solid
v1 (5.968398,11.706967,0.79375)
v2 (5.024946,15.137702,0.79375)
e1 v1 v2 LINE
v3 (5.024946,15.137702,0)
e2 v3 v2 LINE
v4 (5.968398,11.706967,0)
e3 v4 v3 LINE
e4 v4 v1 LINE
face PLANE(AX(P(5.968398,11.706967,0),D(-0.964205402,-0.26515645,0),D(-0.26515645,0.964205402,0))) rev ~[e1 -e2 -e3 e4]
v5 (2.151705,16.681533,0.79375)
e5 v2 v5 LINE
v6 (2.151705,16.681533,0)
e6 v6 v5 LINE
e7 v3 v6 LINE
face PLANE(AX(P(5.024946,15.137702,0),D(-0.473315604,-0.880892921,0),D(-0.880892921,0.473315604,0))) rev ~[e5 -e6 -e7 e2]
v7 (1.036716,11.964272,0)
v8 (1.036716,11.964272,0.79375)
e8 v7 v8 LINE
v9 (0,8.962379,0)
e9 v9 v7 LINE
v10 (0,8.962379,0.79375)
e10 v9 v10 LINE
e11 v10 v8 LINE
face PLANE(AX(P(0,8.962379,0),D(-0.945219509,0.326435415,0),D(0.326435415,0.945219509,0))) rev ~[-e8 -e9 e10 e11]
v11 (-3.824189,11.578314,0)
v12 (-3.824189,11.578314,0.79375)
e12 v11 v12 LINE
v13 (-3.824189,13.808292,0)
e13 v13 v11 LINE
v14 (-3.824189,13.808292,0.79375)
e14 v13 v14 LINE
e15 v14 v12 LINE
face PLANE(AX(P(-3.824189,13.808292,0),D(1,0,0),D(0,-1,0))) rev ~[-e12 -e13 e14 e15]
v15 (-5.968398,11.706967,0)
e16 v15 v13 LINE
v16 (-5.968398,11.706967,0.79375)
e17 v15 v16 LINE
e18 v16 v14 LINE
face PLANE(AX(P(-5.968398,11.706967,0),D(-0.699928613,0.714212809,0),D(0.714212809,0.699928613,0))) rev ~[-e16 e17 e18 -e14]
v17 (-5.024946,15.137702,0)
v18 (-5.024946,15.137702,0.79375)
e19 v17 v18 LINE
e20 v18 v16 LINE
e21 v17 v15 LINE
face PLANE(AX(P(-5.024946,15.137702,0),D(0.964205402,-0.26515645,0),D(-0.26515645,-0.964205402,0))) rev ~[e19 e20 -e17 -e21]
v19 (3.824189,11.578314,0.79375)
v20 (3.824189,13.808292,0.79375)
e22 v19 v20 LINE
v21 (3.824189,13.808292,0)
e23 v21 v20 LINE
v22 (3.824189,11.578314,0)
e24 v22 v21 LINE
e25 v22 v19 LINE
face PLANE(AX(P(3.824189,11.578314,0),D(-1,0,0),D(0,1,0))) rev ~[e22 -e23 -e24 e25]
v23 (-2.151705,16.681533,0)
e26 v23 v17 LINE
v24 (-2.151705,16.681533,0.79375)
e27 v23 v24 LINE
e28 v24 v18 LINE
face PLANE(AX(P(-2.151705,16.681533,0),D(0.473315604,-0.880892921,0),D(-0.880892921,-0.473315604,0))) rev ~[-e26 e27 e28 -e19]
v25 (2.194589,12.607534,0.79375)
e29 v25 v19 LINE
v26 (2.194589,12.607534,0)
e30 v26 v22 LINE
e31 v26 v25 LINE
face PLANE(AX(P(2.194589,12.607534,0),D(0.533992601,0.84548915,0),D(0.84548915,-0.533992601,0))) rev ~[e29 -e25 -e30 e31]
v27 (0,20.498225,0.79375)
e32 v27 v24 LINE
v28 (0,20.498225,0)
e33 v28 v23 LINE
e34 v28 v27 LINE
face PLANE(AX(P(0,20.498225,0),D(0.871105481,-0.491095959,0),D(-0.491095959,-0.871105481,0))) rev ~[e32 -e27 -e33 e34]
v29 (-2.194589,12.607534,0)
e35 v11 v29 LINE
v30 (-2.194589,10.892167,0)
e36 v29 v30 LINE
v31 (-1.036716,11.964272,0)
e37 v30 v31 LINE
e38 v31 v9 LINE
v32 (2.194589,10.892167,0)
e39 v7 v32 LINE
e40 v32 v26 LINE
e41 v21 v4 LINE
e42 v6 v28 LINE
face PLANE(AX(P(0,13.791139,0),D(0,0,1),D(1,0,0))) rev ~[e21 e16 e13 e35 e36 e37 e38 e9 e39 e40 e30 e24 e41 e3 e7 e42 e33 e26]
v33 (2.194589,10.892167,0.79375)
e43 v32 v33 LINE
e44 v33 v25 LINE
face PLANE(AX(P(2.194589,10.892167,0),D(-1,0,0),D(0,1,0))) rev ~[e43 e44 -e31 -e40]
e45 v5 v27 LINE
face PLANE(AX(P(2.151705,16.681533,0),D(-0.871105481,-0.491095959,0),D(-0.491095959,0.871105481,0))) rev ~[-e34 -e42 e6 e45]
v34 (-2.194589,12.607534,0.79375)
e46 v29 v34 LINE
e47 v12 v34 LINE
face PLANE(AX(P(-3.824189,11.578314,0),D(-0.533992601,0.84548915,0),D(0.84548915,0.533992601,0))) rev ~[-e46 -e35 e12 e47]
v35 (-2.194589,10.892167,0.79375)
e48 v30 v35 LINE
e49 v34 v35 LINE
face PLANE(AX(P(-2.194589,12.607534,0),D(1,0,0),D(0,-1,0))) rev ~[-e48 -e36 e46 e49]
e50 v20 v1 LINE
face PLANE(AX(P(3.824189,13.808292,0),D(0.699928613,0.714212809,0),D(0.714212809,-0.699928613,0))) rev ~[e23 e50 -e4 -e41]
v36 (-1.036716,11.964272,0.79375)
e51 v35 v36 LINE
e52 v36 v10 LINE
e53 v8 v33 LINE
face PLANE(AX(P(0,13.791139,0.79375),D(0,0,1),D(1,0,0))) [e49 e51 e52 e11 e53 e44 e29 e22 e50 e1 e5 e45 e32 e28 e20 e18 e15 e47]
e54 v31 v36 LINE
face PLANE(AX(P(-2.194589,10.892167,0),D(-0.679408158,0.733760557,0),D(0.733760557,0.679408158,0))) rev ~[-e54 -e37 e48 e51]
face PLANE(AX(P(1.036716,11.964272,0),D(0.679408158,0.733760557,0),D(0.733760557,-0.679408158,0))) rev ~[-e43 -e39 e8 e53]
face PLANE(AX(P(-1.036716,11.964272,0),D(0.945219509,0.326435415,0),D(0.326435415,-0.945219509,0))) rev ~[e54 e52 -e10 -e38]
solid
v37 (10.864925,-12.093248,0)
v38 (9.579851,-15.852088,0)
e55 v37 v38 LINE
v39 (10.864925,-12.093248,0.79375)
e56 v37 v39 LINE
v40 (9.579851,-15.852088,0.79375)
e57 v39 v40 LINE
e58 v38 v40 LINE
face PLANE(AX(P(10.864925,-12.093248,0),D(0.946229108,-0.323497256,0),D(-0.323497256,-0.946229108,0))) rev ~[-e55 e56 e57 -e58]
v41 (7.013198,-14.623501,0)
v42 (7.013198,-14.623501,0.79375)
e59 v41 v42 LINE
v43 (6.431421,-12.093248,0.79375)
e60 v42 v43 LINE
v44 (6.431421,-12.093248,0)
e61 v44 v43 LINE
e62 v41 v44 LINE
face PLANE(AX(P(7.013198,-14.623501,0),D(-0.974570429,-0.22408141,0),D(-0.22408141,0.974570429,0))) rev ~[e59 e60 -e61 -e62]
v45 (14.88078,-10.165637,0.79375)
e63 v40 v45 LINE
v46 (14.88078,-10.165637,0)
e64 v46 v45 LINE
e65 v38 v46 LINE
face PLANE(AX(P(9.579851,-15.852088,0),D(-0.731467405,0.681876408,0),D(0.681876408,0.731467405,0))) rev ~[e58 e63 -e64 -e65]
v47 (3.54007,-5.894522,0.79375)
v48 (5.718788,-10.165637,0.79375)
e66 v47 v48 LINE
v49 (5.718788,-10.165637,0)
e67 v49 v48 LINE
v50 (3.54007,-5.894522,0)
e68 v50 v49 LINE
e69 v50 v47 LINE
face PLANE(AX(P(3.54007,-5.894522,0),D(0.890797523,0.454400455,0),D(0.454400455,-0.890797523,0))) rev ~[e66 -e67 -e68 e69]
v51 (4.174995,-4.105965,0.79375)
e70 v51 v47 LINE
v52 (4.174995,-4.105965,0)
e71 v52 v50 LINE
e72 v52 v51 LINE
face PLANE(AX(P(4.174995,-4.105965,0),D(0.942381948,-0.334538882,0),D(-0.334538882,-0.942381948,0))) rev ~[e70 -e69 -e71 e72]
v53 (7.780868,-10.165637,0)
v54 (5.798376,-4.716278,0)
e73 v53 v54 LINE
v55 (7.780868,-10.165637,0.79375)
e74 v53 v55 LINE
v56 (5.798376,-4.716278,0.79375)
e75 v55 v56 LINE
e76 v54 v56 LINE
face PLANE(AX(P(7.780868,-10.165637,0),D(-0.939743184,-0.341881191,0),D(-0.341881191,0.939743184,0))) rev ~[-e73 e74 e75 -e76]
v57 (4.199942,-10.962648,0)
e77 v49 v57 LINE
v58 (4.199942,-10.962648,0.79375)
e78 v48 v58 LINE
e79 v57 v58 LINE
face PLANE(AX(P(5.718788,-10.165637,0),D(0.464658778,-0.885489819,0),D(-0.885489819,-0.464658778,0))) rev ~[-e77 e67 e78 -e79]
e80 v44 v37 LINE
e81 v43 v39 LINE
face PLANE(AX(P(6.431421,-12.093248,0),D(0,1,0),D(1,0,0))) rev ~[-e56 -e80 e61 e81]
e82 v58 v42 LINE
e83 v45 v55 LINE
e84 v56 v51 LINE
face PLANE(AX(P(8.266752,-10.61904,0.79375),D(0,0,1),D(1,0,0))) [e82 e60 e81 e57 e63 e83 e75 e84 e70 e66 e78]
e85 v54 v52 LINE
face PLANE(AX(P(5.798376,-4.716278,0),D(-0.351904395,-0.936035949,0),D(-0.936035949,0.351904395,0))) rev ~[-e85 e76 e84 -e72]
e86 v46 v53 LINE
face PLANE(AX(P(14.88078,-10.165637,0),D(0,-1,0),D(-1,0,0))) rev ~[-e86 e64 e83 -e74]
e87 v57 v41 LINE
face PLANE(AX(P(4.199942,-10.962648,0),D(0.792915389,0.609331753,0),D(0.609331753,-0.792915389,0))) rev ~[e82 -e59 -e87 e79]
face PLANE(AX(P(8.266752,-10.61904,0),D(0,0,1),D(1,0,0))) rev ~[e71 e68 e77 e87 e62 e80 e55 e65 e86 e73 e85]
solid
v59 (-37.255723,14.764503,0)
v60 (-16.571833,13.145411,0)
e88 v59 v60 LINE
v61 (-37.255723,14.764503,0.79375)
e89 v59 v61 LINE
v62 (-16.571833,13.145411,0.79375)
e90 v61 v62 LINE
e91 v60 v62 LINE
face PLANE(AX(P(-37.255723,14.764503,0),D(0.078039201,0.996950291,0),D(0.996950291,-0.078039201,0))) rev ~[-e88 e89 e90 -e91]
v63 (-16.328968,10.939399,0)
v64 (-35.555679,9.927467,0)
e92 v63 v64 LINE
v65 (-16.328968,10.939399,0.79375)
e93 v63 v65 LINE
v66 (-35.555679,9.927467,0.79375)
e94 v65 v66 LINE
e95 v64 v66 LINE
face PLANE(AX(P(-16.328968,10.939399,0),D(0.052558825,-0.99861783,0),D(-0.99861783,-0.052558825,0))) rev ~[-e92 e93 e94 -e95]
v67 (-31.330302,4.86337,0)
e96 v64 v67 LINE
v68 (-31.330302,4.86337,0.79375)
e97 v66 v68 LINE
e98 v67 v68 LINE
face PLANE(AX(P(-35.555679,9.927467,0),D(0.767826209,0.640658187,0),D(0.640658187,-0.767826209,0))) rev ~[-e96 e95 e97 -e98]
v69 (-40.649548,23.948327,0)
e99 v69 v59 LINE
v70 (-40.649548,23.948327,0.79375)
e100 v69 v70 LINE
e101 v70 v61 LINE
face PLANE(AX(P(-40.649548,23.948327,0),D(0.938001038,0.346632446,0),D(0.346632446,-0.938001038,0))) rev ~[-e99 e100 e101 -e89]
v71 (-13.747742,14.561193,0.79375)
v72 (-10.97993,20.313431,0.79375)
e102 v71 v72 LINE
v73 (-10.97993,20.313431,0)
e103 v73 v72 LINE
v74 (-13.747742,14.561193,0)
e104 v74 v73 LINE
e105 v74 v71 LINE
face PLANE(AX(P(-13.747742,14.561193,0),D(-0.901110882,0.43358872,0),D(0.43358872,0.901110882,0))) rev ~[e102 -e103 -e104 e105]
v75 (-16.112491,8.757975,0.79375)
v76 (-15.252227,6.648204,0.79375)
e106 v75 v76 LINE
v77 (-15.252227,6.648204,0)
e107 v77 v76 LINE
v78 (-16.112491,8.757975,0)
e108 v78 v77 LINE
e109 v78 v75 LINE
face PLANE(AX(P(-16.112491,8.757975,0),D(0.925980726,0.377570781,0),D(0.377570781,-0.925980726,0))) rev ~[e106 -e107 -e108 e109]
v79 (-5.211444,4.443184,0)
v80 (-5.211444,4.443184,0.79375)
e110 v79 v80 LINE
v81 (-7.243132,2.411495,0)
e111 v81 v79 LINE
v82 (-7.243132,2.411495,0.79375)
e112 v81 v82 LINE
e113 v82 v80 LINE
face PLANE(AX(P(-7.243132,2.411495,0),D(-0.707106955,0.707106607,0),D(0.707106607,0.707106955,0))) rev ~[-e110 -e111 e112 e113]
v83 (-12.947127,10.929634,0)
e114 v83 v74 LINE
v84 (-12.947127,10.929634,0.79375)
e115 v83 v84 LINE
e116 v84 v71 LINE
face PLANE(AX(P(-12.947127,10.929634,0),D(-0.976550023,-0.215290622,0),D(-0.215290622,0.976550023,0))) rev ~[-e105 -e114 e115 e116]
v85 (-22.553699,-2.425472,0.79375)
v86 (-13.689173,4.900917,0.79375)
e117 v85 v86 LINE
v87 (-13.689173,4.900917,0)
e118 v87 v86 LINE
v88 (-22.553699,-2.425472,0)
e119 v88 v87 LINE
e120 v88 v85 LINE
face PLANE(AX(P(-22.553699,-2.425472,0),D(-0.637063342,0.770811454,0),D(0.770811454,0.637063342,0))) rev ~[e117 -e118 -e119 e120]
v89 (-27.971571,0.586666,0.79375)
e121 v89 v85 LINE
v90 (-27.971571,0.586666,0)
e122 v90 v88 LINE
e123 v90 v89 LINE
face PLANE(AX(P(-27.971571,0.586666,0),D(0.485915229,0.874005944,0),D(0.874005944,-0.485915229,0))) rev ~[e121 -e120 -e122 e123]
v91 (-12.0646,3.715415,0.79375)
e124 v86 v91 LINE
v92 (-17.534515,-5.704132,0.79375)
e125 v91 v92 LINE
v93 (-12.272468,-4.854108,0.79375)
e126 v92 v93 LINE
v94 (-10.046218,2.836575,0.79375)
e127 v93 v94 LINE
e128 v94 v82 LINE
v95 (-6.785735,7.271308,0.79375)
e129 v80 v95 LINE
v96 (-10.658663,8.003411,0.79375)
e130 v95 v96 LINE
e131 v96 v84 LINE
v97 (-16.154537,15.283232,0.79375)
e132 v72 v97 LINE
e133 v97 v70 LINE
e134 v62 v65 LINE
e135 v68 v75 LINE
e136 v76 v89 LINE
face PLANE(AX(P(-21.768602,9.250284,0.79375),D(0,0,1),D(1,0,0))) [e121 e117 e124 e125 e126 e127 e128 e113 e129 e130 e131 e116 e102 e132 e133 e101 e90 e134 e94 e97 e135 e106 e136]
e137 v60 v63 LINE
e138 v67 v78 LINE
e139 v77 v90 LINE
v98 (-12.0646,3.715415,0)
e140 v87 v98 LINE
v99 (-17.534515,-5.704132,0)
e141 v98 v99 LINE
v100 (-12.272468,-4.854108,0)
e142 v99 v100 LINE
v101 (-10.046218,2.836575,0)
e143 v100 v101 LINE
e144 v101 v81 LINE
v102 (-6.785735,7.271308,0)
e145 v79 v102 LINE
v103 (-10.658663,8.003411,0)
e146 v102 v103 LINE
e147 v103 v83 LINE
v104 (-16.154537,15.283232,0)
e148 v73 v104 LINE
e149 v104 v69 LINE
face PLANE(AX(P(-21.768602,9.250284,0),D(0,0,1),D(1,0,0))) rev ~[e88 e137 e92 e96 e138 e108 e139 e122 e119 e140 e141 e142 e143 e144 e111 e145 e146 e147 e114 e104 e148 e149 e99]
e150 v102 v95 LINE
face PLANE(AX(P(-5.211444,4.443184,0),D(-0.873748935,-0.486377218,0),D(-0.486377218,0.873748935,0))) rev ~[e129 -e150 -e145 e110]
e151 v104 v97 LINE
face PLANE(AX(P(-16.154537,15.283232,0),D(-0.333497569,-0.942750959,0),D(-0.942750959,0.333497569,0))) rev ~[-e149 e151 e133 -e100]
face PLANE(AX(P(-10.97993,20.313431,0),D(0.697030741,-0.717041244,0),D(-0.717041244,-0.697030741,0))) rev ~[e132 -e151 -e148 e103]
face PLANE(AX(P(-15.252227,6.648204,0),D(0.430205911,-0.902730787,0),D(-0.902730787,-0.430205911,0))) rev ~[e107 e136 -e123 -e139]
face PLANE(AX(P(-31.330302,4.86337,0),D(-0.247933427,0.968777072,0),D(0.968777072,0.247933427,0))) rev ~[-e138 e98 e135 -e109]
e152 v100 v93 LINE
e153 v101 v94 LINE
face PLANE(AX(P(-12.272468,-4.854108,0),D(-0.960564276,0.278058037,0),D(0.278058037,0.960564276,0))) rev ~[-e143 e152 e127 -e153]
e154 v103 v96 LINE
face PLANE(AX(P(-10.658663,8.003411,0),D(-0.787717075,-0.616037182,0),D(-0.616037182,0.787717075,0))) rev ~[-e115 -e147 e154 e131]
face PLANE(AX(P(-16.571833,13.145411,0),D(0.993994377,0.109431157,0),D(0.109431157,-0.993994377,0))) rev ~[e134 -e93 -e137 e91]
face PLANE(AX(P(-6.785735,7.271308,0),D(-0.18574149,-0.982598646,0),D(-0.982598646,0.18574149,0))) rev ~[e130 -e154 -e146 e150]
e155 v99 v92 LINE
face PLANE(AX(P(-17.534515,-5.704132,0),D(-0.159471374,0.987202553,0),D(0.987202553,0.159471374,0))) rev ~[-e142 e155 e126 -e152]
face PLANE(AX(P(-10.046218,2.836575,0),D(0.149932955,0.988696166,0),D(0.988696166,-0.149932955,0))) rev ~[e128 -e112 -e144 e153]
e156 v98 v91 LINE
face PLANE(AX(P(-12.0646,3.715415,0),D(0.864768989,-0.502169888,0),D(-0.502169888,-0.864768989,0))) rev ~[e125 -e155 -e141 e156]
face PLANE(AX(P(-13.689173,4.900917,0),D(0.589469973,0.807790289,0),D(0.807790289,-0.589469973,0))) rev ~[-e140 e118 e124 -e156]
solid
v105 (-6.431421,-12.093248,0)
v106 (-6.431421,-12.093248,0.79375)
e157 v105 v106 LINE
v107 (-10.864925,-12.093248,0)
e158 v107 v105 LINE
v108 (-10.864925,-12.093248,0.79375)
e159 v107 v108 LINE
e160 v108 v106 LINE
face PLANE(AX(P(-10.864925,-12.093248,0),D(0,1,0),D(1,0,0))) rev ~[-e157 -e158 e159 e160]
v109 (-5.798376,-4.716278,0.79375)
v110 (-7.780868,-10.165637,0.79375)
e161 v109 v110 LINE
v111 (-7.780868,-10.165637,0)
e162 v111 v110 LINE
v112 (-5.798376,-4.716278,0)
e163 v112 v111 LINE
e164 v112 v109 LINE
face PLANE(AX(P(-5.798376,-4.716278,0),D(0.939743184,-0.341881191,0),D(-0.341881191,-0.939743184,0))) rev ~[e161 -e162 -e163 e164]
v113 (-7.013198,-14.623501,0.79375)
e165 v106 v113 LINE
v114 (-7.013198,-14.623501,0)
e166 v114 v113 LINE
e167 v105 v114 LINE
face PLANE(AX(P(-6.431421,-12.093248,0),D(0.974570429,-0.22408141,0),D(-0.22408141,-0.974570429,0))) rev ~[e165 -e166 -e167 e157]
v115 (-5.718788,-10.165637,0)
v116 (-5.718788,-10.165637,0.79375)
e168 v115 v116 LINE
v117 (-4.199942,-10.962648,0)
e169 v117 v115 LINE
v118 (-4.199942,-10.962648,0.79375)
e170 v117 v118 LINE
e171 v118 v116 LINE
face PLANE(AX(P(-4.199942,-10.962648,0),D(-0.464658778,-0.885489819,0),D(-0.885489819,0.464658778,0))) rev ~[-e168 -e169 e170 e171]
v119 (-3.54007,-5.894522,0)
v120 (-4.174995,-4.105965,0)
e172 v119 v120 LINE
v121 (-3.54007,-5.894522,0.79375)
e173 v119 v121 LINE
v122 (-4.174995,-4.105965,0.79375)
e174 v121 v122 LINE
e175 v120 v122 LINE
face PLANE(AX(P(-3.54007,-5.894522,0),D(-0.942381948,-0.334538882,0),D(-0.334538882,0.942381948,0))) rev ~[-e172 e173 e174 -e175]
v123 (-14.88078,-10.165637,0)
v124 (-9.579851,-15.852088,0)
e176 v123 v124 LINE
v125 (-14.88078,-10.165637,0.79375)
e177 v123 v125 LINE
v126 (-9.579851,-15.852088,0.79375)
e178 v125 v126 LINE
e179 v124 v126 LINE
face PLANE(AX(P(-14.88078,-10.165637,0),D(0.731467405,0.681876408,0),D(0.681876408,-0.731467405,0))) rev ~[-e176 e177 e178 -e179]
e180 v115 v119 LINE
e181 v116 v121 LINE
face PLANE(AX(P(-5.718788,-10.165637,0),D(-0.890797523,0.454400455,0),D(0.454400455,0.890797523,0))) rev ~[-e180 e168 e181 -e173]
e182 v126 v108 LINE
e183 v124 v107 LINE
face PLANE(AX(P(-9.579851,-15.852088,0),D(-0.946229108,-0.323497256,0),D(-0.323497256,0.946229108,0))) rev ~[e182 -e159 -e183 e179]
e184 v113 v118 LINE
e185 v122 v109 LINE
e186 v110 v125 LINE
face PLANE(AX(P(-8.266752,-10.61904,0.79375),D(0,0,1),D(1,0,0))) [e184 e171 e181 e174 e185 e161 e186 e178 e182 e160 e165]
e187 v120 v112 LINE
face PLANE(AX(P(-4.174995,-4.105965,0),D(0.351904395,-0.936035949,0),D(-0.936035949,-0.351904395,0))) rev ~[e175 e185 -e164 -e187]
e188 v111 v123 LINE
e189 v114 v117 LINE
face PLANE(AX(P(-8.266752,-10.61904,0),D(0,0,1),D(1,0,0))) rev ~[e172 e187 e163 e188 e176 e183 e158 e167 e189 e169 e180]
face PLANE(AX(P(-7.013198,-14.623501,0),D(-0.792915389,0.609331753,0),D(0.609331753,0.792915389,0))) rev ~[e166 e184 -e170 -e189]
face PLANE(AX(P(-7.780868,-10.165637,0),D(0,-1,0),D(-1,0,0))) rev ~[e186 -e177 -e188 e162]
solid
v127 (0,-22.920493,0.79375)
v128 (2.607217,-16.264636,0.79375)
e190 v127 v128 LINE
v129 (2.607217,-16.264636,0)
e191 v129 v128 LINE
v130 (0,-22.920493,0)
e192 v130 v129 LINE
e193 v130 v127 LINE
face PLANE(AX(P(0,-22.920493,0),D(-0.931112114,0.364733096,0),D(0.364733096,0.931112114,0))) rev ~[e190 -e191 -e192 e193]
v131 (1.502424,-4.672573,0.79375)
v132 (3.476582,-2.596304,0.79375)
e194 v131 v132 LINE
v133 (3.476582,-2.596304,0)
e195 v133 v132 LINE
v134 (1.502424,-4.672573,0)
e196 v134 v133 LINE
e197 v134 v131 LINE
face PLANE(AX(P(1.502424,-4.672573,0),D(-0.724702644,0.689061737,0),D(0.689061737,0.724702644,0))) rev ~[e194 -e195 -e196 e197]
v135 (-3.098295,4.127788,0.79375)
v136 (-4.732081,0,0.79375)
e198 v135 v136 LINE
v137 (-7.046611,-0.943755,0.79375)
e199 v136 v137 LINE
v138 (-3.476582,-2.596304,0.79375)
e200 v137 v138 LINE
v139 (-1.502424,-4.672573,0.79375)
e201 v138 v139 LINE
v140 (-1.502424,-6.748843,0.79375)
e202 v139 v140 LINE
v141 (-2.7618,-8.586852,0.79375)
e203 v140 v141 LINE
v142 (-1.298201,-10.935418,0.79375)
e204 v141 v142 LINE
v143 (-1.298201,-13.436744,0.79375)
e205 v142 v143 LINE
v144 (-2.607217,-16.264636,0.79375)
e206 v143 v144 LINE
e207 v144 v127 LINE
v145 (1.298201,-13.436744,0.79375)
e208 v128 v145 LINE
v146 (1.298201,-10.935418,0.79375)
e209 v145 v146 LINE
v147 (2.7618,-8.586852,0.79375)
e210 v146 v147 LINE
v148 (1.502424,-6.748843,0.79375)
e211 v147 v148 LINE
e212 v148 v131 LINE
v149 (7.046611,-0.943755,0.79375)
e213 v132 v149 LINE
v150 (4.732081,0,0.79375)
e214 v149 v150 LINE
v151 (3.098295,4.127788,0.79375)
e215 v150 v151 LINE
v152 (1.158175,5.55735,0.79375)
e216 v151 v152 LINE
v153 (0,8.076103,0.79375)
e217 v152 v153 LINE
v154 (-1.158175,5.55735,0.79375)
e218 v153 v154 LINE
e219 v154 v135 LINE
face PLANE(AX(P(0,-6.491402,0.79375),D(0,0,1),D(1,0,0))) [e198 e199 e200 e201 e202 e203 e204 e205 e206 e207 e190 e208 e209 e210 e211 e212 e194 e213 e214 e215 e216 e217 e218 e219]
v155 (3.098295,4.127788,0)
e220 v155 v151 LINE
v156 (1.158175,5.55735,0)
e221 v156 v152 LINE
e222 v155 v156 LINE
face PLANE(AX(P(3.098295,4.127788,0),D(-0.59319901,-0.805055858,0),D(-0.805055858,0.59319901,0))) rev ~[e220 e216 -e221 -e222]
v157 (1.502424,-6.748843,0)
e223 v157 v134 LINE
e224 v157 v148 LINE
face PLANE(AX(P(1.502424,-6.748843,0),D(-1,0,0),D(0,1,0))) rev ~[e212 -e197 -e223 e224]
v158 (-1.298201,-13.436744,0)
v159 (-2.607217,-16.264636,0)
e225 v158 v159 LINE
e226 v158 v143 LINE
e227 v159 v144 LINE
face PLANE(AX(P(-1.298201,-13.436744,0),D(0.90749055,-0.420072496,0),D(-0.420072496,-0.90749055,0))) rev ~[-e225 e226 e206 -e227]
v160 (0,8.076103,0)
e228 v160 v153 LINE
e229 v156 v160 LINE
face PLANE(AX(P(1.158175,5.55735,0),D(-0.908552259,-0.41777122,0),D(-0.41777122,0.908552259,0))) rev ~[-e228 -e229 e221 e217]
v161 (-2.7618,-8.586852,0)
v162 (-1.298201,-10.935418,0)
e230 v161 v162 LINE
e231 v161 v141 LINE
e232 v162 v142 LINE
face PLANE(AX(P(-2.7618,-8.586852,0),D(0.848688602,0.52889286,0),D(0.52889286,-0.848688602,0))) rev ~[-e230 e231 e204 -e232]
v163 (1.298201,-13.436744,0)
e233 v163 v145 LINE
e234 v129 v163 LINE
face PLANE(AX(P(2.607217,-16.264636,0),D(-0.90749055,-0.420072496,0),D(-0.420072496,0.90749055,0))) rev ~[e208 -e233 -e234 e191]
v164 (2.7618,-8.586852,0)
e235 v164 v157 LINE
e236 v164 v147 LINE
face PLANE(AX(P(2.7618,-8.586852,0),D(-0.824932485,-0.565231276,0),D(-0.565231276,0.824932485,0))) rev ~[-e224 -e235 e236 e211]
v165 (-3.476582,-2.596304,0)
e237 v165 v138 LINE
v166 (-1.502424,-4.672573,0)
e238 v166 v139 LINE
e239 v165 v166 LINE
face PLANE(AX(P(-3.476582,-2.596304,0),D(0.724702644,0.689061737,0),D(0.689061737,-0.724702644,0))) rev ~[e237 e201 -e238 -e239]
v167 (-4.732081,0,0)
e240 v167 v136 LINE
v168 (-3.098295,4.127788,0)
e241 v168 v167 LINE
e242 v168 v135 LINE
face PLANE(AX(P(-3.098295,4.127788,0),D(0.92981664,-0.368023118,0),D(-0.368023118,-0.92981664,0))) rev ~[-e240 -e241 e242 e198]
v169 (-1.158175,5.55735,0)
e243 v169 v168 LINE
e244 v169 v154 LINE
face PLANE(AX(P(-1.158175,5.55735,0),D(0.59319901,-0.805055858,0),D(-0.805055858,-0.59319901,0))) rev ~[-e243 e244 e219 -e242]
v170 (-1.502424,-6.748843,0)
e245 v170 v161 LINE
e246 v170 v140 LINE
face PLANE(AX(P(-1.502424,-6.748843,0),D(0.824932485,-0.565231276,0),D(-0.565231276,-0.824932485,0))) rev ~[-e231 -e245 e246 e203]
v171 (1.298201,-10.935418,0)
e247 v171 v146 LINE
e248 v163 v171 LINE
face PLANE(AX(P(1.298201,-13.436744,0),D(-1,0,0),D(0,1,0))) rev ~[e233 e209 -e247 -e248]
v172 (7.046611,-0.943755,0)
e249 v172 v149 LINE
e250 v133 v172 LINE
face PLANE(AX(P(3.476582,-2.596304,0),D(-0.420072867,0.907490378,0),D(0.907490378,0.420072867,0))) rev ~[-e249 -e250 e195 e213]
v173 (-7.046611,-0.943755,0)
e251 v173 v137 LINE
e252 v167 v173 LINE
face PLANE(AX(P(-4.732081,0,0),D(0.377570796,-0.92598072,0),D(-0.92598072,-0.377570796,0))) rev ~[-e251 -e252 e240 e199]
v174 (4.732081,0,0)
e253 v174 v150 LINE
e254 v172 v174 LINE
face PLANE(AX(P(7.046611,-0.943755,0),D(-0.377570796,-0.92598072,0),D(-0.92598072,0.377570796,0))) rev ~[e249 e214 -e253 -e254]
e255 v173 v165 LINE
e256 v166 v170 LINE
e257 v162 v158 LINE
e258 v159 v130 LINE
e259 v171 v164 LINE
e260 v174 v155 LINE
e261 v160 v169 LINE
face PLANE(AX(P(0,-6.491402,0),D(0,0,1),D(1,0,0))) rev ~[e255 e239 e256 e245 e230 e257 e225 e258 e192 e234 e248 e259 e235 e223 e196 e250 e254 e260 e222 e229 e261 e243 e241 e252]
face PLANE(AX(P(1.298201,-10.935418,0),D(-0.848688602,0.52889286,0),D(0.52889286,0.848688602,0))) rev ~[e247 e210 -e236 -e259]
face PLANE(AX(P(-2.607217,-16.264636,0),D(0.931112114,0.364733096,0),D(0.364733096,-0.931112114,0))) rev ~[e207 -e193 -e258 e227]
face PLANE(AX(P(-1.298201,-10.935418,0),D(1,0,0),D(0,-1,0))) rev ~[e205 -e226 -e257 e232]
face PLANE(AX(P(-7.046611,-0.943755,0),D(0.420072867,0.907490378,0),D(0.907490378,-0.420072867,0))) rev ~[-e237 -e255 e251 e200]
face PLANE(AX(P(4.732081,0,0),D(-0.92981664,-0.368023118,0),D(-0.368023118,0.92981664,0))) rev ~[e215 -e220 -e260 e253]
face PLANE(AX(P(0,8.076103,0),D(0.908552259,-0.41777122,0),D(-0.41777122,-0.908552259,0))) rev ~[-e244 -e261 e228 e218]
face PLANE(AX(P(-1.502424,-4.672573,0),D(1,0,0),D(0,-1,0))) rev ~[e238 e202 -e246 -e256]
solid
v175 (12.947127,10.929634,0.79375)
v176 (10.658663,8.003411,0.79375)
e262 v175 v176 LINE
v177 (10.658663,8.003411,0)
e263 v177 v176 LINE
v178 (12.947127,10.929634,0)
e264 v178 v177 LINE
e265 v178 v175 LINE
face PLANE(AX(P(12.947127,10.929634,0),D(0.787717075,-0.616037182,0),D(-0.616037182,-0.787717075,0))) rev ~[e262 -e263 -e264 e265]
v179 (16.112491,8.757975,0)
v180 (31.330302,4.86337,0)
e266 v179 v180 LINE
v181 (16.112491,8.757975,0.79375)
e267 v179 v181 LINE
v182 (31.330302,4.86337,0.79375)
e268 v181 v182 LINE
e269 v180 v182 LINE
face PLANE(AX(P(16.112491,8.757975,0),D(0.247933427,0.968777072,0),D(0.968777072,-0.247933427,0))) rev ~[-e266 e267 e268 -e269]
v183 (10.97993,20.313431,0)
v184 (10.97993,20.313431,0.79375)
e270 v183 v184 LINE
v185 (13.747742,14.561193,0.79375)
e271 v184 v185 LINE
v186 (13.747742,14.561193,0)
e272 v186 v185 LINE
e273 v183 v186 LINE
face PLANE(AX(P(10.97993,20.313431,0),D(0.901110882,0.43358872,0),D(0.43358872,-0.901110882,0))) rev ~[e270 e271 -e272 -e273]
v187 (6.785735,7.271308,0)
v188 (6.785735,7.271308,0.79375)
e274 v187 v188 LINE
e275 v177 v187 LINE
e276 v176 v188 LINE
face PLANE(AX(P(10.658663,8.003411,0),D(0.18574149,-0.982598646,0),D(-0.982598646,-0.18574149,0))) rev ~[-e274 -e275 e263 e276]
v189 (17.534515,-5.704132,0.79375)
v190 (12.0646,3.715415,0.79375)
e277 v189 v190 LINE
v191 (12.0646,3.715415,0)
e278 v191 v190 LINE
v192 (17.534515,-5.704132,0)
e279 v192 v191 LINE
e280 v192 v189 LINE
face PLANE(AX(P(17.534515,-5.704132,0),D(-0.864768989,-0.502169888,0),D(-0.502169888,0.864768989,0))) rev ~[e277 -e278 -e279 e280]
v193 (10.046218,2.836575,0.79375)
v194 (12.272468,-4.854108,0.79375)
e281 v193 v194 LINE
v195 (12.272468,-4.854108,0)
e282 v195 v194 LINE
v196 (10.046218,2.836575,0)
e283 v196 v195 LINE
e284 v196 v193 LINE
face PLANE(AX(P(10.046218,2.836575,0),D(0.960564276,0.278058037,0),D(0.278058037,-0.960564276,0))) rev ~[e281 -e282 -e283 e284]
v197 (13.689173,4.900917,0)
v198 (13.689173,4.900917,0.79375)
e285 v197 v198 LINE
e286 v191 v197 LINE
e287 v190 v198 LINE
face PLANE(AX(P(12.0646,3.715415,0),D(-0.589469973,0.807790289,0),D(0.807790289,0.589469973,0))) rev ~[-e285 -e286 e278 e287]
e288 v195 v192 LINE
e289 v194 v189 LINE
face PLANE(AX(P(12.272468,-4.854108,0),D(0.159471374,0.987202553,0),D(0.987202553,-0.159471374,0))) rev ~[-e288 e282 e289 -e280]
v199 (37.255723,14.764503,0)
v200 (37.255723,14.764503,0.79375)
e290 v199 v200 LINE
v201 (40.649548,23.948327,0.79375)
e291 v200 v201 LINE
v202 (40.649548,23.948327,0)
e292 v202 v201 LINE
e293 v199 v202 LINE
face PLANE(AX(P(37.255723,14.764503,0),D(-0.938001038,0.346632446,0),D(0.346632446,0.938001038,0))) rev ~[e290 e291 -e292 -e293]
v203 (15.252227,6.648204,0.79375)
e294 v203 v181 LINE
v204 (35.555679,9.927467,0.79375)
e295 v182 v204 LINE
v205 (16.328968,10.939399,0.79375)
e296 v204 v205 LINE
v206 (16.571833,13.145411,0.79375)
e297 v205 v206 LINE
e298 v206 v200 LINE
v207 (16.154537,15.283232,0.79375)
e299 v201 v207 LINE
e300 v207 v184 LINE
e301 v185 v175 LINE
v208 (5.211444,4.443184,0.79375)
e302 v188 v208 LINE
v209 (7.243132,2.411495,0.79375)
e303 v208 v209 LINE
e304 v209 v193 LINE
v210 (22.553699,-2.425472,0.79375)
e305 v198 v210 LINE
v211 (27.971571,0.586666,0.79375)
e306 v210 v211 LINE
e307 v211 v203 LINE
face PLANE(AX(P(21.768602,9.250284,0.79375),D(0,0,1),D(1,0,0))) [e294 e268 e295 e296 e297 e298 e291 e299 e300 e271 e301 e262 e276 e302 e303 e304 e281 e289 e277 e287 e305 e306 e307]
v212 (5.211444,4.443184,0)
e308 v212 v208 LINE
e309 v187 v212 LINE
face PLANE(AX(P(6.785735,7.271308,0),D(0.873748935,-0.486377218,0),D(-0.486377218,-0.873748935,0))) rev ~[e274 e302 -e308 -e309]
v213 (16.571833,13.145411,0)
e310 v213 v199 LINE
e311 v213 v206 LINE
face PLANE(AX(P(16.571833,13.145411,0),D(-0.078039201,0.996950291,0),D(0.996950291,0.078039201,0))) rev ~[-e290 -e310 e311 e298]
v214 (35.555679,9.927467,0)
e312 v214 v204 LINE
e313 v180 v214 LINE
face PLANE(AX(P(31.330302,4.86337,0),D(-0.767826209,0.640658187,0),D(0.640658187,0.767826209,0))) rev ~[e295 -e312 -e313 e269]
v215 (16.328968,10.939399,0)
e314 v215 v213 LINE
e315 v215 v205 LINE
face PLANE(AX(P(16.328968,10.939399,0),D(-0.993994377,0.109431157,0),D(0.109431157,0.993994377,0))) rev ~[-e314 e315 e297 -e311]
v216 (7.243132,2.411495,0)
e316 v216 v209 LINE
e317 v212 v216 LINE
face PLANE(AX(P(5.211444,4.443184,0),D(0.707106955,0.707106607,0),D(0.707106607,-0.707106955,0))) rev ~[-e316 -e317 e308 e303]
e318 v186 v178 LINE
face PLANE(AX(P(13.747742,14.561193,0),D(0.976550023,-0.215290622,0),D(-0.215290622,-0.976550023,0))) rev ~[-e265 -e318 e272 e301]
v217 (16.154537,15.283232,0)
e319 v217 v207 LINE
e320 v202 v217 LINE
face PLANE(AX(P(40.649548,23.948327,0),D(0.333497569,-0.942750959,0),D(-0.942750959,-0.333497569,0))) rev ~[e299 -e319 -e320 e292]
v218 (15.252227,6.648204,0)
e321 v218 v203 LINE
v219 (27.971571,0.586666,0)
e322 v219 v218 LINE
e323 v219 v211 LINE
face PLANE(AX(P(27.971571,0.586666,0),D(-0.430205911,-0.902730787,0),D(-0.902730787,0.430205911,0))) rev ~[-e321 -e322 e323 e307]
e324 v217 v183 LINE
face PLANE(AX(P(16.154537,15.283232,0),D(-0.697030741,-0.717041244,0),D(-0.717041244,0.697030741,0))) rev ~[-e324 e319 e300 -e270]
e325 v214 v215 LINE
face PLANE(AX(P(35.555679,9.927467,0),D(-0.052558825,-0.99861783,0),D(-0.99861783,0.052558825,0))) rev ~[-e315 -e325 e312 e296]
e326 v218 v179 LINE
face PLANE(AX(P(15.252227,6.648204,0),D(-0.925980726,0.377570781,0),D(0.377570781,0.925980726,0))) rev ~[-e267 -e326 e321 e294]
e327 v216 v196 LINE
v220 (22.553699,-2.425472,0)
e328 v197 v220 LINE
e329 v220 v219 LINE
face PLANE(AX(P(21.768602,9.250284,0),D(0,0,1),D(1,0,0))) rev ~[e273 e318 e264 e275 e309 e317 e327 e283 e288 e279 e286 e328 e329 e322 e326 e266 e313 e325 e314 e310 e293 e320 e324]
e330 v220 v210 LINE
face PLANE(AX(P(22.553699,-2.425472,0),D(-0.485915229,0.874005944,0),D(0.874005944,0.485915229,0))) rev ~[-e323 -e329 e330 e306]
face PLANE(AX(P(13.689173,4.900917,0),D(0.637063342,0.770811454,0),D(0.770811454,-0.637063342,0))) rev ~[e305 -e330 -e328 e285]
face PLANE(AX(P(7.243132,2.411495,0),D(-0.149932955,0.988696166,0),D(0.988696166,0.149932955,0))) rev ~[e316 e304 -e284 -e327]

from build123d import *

# Parameters (mm, degrees)
F1_DEPTH = 0.79375


with BuildPart() as f1:
    # F0 (on Top) → F1 (new body)
    with BuildSketch(Plane.XY):
        Polygon((2.151705, 16.681533), (0, 20.498225), (-2.151705, 16.681533), (-5.024946, 15.137702), (-5.968398, 11.706967), (-3.824189, 13.808292), (-3.824189, 11.578314), (-2.194589, 12.607534), (-2.194589, 10.892167), (-1.036716, 11.964272), (0, 8.962379), (1.036716, 11.964272), (2.194589, 10.892167), (2.194589, 12.607534), (3.824189, 11.578314), (3.824189, 13.808292), (5.968398, 11.706967), (5.024946, 15.137702), align=None)
        Polygon((1.158175, 5.55735), (0, 8.076103), (-1.158175, 5.55735), (-3.098295, 4.127788), (-4.732081, 0), (-7.046611, -0.943755), (-3.476582, -2.596304), (-1.502424, -4.672573), (-1.502424, -6.748843), (-2.7618, -8.586852), (-1.298201, -10.935418), (-1.298201, -13.436744), (-2.607217, -16.264636), (0, -22.920493), (2.607217, -16.264636), (1.298201, -13.436744), (1.298201, -10.935418), (2.7618, -8.586852), (1.502424, -6.748843), (1.502424, -4.672573), (3.476582, -2.596304), (7.046611, -0.943755), (4.732081, 0), (3.098295, 4.127788), align=None)
        Polygon((-5.798376, -4.716278), (-7.780868, -10.165637), (-14.88078, -10.165637), (-9.579851, -15.852088), (-10.864925, -12.093248), (-6.431421, -12.093248), (-7.013198, -14.623501), (-4.199942, -10.962648), (-5.718788, -10.165637), (-3.54007, -5.894522), (-4.174995, -4.105965), align=None)
        Polygon((-10.658663, 8.003411), (-12.947127, 10.929634), (-13.747742, 14.561193), (-10.97993, 20.313431), (-16.154537, 15.283232), (-40.649548, 23.948327), (-37.255723, 14.764503), (-16.571833, 13.145411), (-16.328968, 10.939399), (-35.555679, 9.927467), (-31.330302, 4.86337), (-16.112491, 8.757975), (-15.252227, 6.648204), (-27.971571, 0.586666), (-22.553699, -2.425472), (-13.689173, 4.900917), (-12.0646, 3.715415), (-17.534515, -5.704132), (-12.272468, -4.854108), (-10.046218, 2.836575), (-7.243132, 2.411495), (-5.211444, 4.443184), (-6.785735, 7.271308), align=None)
        Polygon((7.780868, -10.165637), (5.798376, -4.716278), (4.174995, -4.105965), (3.54007, -5.894522), (5.718788, -10.165637), (4.199942, -10.962648), (7.013198, -14.623501), (6.431421, -12.093248), (10.864925, -12.093248), (9.579851, -15.852088), (14.88078, -10.165637), align=None)
        Polygon((12.0646, 3.715415), (13.689173, 4.900917), (22.553699, -2.425472), (27.971571, 0.586666), (15.252227, 6.648204), (16.112491, 8.757975), (31.330302, 4.86337), (35.555679, 9.927467), (16.328968, 10.939399), (16.571833, 13.145411), (37.255723, 14.764503), (40.649548, 23.948327), (16.154537, 15.283232), (10.97993, 20.313431), (13.747742, 14.561193), (12.947127, 10.929634), (10.658663, 8.003411), (6.785735, 7.271308), (5.211444, 4.443184), (7.243132, 2.411495), (10.046218, 2.836575), (12.272468, -4.854108), (17.534515, -5.704132), align=None)
    extrude(amount=F1_DEPTH)


solid = f1.part
